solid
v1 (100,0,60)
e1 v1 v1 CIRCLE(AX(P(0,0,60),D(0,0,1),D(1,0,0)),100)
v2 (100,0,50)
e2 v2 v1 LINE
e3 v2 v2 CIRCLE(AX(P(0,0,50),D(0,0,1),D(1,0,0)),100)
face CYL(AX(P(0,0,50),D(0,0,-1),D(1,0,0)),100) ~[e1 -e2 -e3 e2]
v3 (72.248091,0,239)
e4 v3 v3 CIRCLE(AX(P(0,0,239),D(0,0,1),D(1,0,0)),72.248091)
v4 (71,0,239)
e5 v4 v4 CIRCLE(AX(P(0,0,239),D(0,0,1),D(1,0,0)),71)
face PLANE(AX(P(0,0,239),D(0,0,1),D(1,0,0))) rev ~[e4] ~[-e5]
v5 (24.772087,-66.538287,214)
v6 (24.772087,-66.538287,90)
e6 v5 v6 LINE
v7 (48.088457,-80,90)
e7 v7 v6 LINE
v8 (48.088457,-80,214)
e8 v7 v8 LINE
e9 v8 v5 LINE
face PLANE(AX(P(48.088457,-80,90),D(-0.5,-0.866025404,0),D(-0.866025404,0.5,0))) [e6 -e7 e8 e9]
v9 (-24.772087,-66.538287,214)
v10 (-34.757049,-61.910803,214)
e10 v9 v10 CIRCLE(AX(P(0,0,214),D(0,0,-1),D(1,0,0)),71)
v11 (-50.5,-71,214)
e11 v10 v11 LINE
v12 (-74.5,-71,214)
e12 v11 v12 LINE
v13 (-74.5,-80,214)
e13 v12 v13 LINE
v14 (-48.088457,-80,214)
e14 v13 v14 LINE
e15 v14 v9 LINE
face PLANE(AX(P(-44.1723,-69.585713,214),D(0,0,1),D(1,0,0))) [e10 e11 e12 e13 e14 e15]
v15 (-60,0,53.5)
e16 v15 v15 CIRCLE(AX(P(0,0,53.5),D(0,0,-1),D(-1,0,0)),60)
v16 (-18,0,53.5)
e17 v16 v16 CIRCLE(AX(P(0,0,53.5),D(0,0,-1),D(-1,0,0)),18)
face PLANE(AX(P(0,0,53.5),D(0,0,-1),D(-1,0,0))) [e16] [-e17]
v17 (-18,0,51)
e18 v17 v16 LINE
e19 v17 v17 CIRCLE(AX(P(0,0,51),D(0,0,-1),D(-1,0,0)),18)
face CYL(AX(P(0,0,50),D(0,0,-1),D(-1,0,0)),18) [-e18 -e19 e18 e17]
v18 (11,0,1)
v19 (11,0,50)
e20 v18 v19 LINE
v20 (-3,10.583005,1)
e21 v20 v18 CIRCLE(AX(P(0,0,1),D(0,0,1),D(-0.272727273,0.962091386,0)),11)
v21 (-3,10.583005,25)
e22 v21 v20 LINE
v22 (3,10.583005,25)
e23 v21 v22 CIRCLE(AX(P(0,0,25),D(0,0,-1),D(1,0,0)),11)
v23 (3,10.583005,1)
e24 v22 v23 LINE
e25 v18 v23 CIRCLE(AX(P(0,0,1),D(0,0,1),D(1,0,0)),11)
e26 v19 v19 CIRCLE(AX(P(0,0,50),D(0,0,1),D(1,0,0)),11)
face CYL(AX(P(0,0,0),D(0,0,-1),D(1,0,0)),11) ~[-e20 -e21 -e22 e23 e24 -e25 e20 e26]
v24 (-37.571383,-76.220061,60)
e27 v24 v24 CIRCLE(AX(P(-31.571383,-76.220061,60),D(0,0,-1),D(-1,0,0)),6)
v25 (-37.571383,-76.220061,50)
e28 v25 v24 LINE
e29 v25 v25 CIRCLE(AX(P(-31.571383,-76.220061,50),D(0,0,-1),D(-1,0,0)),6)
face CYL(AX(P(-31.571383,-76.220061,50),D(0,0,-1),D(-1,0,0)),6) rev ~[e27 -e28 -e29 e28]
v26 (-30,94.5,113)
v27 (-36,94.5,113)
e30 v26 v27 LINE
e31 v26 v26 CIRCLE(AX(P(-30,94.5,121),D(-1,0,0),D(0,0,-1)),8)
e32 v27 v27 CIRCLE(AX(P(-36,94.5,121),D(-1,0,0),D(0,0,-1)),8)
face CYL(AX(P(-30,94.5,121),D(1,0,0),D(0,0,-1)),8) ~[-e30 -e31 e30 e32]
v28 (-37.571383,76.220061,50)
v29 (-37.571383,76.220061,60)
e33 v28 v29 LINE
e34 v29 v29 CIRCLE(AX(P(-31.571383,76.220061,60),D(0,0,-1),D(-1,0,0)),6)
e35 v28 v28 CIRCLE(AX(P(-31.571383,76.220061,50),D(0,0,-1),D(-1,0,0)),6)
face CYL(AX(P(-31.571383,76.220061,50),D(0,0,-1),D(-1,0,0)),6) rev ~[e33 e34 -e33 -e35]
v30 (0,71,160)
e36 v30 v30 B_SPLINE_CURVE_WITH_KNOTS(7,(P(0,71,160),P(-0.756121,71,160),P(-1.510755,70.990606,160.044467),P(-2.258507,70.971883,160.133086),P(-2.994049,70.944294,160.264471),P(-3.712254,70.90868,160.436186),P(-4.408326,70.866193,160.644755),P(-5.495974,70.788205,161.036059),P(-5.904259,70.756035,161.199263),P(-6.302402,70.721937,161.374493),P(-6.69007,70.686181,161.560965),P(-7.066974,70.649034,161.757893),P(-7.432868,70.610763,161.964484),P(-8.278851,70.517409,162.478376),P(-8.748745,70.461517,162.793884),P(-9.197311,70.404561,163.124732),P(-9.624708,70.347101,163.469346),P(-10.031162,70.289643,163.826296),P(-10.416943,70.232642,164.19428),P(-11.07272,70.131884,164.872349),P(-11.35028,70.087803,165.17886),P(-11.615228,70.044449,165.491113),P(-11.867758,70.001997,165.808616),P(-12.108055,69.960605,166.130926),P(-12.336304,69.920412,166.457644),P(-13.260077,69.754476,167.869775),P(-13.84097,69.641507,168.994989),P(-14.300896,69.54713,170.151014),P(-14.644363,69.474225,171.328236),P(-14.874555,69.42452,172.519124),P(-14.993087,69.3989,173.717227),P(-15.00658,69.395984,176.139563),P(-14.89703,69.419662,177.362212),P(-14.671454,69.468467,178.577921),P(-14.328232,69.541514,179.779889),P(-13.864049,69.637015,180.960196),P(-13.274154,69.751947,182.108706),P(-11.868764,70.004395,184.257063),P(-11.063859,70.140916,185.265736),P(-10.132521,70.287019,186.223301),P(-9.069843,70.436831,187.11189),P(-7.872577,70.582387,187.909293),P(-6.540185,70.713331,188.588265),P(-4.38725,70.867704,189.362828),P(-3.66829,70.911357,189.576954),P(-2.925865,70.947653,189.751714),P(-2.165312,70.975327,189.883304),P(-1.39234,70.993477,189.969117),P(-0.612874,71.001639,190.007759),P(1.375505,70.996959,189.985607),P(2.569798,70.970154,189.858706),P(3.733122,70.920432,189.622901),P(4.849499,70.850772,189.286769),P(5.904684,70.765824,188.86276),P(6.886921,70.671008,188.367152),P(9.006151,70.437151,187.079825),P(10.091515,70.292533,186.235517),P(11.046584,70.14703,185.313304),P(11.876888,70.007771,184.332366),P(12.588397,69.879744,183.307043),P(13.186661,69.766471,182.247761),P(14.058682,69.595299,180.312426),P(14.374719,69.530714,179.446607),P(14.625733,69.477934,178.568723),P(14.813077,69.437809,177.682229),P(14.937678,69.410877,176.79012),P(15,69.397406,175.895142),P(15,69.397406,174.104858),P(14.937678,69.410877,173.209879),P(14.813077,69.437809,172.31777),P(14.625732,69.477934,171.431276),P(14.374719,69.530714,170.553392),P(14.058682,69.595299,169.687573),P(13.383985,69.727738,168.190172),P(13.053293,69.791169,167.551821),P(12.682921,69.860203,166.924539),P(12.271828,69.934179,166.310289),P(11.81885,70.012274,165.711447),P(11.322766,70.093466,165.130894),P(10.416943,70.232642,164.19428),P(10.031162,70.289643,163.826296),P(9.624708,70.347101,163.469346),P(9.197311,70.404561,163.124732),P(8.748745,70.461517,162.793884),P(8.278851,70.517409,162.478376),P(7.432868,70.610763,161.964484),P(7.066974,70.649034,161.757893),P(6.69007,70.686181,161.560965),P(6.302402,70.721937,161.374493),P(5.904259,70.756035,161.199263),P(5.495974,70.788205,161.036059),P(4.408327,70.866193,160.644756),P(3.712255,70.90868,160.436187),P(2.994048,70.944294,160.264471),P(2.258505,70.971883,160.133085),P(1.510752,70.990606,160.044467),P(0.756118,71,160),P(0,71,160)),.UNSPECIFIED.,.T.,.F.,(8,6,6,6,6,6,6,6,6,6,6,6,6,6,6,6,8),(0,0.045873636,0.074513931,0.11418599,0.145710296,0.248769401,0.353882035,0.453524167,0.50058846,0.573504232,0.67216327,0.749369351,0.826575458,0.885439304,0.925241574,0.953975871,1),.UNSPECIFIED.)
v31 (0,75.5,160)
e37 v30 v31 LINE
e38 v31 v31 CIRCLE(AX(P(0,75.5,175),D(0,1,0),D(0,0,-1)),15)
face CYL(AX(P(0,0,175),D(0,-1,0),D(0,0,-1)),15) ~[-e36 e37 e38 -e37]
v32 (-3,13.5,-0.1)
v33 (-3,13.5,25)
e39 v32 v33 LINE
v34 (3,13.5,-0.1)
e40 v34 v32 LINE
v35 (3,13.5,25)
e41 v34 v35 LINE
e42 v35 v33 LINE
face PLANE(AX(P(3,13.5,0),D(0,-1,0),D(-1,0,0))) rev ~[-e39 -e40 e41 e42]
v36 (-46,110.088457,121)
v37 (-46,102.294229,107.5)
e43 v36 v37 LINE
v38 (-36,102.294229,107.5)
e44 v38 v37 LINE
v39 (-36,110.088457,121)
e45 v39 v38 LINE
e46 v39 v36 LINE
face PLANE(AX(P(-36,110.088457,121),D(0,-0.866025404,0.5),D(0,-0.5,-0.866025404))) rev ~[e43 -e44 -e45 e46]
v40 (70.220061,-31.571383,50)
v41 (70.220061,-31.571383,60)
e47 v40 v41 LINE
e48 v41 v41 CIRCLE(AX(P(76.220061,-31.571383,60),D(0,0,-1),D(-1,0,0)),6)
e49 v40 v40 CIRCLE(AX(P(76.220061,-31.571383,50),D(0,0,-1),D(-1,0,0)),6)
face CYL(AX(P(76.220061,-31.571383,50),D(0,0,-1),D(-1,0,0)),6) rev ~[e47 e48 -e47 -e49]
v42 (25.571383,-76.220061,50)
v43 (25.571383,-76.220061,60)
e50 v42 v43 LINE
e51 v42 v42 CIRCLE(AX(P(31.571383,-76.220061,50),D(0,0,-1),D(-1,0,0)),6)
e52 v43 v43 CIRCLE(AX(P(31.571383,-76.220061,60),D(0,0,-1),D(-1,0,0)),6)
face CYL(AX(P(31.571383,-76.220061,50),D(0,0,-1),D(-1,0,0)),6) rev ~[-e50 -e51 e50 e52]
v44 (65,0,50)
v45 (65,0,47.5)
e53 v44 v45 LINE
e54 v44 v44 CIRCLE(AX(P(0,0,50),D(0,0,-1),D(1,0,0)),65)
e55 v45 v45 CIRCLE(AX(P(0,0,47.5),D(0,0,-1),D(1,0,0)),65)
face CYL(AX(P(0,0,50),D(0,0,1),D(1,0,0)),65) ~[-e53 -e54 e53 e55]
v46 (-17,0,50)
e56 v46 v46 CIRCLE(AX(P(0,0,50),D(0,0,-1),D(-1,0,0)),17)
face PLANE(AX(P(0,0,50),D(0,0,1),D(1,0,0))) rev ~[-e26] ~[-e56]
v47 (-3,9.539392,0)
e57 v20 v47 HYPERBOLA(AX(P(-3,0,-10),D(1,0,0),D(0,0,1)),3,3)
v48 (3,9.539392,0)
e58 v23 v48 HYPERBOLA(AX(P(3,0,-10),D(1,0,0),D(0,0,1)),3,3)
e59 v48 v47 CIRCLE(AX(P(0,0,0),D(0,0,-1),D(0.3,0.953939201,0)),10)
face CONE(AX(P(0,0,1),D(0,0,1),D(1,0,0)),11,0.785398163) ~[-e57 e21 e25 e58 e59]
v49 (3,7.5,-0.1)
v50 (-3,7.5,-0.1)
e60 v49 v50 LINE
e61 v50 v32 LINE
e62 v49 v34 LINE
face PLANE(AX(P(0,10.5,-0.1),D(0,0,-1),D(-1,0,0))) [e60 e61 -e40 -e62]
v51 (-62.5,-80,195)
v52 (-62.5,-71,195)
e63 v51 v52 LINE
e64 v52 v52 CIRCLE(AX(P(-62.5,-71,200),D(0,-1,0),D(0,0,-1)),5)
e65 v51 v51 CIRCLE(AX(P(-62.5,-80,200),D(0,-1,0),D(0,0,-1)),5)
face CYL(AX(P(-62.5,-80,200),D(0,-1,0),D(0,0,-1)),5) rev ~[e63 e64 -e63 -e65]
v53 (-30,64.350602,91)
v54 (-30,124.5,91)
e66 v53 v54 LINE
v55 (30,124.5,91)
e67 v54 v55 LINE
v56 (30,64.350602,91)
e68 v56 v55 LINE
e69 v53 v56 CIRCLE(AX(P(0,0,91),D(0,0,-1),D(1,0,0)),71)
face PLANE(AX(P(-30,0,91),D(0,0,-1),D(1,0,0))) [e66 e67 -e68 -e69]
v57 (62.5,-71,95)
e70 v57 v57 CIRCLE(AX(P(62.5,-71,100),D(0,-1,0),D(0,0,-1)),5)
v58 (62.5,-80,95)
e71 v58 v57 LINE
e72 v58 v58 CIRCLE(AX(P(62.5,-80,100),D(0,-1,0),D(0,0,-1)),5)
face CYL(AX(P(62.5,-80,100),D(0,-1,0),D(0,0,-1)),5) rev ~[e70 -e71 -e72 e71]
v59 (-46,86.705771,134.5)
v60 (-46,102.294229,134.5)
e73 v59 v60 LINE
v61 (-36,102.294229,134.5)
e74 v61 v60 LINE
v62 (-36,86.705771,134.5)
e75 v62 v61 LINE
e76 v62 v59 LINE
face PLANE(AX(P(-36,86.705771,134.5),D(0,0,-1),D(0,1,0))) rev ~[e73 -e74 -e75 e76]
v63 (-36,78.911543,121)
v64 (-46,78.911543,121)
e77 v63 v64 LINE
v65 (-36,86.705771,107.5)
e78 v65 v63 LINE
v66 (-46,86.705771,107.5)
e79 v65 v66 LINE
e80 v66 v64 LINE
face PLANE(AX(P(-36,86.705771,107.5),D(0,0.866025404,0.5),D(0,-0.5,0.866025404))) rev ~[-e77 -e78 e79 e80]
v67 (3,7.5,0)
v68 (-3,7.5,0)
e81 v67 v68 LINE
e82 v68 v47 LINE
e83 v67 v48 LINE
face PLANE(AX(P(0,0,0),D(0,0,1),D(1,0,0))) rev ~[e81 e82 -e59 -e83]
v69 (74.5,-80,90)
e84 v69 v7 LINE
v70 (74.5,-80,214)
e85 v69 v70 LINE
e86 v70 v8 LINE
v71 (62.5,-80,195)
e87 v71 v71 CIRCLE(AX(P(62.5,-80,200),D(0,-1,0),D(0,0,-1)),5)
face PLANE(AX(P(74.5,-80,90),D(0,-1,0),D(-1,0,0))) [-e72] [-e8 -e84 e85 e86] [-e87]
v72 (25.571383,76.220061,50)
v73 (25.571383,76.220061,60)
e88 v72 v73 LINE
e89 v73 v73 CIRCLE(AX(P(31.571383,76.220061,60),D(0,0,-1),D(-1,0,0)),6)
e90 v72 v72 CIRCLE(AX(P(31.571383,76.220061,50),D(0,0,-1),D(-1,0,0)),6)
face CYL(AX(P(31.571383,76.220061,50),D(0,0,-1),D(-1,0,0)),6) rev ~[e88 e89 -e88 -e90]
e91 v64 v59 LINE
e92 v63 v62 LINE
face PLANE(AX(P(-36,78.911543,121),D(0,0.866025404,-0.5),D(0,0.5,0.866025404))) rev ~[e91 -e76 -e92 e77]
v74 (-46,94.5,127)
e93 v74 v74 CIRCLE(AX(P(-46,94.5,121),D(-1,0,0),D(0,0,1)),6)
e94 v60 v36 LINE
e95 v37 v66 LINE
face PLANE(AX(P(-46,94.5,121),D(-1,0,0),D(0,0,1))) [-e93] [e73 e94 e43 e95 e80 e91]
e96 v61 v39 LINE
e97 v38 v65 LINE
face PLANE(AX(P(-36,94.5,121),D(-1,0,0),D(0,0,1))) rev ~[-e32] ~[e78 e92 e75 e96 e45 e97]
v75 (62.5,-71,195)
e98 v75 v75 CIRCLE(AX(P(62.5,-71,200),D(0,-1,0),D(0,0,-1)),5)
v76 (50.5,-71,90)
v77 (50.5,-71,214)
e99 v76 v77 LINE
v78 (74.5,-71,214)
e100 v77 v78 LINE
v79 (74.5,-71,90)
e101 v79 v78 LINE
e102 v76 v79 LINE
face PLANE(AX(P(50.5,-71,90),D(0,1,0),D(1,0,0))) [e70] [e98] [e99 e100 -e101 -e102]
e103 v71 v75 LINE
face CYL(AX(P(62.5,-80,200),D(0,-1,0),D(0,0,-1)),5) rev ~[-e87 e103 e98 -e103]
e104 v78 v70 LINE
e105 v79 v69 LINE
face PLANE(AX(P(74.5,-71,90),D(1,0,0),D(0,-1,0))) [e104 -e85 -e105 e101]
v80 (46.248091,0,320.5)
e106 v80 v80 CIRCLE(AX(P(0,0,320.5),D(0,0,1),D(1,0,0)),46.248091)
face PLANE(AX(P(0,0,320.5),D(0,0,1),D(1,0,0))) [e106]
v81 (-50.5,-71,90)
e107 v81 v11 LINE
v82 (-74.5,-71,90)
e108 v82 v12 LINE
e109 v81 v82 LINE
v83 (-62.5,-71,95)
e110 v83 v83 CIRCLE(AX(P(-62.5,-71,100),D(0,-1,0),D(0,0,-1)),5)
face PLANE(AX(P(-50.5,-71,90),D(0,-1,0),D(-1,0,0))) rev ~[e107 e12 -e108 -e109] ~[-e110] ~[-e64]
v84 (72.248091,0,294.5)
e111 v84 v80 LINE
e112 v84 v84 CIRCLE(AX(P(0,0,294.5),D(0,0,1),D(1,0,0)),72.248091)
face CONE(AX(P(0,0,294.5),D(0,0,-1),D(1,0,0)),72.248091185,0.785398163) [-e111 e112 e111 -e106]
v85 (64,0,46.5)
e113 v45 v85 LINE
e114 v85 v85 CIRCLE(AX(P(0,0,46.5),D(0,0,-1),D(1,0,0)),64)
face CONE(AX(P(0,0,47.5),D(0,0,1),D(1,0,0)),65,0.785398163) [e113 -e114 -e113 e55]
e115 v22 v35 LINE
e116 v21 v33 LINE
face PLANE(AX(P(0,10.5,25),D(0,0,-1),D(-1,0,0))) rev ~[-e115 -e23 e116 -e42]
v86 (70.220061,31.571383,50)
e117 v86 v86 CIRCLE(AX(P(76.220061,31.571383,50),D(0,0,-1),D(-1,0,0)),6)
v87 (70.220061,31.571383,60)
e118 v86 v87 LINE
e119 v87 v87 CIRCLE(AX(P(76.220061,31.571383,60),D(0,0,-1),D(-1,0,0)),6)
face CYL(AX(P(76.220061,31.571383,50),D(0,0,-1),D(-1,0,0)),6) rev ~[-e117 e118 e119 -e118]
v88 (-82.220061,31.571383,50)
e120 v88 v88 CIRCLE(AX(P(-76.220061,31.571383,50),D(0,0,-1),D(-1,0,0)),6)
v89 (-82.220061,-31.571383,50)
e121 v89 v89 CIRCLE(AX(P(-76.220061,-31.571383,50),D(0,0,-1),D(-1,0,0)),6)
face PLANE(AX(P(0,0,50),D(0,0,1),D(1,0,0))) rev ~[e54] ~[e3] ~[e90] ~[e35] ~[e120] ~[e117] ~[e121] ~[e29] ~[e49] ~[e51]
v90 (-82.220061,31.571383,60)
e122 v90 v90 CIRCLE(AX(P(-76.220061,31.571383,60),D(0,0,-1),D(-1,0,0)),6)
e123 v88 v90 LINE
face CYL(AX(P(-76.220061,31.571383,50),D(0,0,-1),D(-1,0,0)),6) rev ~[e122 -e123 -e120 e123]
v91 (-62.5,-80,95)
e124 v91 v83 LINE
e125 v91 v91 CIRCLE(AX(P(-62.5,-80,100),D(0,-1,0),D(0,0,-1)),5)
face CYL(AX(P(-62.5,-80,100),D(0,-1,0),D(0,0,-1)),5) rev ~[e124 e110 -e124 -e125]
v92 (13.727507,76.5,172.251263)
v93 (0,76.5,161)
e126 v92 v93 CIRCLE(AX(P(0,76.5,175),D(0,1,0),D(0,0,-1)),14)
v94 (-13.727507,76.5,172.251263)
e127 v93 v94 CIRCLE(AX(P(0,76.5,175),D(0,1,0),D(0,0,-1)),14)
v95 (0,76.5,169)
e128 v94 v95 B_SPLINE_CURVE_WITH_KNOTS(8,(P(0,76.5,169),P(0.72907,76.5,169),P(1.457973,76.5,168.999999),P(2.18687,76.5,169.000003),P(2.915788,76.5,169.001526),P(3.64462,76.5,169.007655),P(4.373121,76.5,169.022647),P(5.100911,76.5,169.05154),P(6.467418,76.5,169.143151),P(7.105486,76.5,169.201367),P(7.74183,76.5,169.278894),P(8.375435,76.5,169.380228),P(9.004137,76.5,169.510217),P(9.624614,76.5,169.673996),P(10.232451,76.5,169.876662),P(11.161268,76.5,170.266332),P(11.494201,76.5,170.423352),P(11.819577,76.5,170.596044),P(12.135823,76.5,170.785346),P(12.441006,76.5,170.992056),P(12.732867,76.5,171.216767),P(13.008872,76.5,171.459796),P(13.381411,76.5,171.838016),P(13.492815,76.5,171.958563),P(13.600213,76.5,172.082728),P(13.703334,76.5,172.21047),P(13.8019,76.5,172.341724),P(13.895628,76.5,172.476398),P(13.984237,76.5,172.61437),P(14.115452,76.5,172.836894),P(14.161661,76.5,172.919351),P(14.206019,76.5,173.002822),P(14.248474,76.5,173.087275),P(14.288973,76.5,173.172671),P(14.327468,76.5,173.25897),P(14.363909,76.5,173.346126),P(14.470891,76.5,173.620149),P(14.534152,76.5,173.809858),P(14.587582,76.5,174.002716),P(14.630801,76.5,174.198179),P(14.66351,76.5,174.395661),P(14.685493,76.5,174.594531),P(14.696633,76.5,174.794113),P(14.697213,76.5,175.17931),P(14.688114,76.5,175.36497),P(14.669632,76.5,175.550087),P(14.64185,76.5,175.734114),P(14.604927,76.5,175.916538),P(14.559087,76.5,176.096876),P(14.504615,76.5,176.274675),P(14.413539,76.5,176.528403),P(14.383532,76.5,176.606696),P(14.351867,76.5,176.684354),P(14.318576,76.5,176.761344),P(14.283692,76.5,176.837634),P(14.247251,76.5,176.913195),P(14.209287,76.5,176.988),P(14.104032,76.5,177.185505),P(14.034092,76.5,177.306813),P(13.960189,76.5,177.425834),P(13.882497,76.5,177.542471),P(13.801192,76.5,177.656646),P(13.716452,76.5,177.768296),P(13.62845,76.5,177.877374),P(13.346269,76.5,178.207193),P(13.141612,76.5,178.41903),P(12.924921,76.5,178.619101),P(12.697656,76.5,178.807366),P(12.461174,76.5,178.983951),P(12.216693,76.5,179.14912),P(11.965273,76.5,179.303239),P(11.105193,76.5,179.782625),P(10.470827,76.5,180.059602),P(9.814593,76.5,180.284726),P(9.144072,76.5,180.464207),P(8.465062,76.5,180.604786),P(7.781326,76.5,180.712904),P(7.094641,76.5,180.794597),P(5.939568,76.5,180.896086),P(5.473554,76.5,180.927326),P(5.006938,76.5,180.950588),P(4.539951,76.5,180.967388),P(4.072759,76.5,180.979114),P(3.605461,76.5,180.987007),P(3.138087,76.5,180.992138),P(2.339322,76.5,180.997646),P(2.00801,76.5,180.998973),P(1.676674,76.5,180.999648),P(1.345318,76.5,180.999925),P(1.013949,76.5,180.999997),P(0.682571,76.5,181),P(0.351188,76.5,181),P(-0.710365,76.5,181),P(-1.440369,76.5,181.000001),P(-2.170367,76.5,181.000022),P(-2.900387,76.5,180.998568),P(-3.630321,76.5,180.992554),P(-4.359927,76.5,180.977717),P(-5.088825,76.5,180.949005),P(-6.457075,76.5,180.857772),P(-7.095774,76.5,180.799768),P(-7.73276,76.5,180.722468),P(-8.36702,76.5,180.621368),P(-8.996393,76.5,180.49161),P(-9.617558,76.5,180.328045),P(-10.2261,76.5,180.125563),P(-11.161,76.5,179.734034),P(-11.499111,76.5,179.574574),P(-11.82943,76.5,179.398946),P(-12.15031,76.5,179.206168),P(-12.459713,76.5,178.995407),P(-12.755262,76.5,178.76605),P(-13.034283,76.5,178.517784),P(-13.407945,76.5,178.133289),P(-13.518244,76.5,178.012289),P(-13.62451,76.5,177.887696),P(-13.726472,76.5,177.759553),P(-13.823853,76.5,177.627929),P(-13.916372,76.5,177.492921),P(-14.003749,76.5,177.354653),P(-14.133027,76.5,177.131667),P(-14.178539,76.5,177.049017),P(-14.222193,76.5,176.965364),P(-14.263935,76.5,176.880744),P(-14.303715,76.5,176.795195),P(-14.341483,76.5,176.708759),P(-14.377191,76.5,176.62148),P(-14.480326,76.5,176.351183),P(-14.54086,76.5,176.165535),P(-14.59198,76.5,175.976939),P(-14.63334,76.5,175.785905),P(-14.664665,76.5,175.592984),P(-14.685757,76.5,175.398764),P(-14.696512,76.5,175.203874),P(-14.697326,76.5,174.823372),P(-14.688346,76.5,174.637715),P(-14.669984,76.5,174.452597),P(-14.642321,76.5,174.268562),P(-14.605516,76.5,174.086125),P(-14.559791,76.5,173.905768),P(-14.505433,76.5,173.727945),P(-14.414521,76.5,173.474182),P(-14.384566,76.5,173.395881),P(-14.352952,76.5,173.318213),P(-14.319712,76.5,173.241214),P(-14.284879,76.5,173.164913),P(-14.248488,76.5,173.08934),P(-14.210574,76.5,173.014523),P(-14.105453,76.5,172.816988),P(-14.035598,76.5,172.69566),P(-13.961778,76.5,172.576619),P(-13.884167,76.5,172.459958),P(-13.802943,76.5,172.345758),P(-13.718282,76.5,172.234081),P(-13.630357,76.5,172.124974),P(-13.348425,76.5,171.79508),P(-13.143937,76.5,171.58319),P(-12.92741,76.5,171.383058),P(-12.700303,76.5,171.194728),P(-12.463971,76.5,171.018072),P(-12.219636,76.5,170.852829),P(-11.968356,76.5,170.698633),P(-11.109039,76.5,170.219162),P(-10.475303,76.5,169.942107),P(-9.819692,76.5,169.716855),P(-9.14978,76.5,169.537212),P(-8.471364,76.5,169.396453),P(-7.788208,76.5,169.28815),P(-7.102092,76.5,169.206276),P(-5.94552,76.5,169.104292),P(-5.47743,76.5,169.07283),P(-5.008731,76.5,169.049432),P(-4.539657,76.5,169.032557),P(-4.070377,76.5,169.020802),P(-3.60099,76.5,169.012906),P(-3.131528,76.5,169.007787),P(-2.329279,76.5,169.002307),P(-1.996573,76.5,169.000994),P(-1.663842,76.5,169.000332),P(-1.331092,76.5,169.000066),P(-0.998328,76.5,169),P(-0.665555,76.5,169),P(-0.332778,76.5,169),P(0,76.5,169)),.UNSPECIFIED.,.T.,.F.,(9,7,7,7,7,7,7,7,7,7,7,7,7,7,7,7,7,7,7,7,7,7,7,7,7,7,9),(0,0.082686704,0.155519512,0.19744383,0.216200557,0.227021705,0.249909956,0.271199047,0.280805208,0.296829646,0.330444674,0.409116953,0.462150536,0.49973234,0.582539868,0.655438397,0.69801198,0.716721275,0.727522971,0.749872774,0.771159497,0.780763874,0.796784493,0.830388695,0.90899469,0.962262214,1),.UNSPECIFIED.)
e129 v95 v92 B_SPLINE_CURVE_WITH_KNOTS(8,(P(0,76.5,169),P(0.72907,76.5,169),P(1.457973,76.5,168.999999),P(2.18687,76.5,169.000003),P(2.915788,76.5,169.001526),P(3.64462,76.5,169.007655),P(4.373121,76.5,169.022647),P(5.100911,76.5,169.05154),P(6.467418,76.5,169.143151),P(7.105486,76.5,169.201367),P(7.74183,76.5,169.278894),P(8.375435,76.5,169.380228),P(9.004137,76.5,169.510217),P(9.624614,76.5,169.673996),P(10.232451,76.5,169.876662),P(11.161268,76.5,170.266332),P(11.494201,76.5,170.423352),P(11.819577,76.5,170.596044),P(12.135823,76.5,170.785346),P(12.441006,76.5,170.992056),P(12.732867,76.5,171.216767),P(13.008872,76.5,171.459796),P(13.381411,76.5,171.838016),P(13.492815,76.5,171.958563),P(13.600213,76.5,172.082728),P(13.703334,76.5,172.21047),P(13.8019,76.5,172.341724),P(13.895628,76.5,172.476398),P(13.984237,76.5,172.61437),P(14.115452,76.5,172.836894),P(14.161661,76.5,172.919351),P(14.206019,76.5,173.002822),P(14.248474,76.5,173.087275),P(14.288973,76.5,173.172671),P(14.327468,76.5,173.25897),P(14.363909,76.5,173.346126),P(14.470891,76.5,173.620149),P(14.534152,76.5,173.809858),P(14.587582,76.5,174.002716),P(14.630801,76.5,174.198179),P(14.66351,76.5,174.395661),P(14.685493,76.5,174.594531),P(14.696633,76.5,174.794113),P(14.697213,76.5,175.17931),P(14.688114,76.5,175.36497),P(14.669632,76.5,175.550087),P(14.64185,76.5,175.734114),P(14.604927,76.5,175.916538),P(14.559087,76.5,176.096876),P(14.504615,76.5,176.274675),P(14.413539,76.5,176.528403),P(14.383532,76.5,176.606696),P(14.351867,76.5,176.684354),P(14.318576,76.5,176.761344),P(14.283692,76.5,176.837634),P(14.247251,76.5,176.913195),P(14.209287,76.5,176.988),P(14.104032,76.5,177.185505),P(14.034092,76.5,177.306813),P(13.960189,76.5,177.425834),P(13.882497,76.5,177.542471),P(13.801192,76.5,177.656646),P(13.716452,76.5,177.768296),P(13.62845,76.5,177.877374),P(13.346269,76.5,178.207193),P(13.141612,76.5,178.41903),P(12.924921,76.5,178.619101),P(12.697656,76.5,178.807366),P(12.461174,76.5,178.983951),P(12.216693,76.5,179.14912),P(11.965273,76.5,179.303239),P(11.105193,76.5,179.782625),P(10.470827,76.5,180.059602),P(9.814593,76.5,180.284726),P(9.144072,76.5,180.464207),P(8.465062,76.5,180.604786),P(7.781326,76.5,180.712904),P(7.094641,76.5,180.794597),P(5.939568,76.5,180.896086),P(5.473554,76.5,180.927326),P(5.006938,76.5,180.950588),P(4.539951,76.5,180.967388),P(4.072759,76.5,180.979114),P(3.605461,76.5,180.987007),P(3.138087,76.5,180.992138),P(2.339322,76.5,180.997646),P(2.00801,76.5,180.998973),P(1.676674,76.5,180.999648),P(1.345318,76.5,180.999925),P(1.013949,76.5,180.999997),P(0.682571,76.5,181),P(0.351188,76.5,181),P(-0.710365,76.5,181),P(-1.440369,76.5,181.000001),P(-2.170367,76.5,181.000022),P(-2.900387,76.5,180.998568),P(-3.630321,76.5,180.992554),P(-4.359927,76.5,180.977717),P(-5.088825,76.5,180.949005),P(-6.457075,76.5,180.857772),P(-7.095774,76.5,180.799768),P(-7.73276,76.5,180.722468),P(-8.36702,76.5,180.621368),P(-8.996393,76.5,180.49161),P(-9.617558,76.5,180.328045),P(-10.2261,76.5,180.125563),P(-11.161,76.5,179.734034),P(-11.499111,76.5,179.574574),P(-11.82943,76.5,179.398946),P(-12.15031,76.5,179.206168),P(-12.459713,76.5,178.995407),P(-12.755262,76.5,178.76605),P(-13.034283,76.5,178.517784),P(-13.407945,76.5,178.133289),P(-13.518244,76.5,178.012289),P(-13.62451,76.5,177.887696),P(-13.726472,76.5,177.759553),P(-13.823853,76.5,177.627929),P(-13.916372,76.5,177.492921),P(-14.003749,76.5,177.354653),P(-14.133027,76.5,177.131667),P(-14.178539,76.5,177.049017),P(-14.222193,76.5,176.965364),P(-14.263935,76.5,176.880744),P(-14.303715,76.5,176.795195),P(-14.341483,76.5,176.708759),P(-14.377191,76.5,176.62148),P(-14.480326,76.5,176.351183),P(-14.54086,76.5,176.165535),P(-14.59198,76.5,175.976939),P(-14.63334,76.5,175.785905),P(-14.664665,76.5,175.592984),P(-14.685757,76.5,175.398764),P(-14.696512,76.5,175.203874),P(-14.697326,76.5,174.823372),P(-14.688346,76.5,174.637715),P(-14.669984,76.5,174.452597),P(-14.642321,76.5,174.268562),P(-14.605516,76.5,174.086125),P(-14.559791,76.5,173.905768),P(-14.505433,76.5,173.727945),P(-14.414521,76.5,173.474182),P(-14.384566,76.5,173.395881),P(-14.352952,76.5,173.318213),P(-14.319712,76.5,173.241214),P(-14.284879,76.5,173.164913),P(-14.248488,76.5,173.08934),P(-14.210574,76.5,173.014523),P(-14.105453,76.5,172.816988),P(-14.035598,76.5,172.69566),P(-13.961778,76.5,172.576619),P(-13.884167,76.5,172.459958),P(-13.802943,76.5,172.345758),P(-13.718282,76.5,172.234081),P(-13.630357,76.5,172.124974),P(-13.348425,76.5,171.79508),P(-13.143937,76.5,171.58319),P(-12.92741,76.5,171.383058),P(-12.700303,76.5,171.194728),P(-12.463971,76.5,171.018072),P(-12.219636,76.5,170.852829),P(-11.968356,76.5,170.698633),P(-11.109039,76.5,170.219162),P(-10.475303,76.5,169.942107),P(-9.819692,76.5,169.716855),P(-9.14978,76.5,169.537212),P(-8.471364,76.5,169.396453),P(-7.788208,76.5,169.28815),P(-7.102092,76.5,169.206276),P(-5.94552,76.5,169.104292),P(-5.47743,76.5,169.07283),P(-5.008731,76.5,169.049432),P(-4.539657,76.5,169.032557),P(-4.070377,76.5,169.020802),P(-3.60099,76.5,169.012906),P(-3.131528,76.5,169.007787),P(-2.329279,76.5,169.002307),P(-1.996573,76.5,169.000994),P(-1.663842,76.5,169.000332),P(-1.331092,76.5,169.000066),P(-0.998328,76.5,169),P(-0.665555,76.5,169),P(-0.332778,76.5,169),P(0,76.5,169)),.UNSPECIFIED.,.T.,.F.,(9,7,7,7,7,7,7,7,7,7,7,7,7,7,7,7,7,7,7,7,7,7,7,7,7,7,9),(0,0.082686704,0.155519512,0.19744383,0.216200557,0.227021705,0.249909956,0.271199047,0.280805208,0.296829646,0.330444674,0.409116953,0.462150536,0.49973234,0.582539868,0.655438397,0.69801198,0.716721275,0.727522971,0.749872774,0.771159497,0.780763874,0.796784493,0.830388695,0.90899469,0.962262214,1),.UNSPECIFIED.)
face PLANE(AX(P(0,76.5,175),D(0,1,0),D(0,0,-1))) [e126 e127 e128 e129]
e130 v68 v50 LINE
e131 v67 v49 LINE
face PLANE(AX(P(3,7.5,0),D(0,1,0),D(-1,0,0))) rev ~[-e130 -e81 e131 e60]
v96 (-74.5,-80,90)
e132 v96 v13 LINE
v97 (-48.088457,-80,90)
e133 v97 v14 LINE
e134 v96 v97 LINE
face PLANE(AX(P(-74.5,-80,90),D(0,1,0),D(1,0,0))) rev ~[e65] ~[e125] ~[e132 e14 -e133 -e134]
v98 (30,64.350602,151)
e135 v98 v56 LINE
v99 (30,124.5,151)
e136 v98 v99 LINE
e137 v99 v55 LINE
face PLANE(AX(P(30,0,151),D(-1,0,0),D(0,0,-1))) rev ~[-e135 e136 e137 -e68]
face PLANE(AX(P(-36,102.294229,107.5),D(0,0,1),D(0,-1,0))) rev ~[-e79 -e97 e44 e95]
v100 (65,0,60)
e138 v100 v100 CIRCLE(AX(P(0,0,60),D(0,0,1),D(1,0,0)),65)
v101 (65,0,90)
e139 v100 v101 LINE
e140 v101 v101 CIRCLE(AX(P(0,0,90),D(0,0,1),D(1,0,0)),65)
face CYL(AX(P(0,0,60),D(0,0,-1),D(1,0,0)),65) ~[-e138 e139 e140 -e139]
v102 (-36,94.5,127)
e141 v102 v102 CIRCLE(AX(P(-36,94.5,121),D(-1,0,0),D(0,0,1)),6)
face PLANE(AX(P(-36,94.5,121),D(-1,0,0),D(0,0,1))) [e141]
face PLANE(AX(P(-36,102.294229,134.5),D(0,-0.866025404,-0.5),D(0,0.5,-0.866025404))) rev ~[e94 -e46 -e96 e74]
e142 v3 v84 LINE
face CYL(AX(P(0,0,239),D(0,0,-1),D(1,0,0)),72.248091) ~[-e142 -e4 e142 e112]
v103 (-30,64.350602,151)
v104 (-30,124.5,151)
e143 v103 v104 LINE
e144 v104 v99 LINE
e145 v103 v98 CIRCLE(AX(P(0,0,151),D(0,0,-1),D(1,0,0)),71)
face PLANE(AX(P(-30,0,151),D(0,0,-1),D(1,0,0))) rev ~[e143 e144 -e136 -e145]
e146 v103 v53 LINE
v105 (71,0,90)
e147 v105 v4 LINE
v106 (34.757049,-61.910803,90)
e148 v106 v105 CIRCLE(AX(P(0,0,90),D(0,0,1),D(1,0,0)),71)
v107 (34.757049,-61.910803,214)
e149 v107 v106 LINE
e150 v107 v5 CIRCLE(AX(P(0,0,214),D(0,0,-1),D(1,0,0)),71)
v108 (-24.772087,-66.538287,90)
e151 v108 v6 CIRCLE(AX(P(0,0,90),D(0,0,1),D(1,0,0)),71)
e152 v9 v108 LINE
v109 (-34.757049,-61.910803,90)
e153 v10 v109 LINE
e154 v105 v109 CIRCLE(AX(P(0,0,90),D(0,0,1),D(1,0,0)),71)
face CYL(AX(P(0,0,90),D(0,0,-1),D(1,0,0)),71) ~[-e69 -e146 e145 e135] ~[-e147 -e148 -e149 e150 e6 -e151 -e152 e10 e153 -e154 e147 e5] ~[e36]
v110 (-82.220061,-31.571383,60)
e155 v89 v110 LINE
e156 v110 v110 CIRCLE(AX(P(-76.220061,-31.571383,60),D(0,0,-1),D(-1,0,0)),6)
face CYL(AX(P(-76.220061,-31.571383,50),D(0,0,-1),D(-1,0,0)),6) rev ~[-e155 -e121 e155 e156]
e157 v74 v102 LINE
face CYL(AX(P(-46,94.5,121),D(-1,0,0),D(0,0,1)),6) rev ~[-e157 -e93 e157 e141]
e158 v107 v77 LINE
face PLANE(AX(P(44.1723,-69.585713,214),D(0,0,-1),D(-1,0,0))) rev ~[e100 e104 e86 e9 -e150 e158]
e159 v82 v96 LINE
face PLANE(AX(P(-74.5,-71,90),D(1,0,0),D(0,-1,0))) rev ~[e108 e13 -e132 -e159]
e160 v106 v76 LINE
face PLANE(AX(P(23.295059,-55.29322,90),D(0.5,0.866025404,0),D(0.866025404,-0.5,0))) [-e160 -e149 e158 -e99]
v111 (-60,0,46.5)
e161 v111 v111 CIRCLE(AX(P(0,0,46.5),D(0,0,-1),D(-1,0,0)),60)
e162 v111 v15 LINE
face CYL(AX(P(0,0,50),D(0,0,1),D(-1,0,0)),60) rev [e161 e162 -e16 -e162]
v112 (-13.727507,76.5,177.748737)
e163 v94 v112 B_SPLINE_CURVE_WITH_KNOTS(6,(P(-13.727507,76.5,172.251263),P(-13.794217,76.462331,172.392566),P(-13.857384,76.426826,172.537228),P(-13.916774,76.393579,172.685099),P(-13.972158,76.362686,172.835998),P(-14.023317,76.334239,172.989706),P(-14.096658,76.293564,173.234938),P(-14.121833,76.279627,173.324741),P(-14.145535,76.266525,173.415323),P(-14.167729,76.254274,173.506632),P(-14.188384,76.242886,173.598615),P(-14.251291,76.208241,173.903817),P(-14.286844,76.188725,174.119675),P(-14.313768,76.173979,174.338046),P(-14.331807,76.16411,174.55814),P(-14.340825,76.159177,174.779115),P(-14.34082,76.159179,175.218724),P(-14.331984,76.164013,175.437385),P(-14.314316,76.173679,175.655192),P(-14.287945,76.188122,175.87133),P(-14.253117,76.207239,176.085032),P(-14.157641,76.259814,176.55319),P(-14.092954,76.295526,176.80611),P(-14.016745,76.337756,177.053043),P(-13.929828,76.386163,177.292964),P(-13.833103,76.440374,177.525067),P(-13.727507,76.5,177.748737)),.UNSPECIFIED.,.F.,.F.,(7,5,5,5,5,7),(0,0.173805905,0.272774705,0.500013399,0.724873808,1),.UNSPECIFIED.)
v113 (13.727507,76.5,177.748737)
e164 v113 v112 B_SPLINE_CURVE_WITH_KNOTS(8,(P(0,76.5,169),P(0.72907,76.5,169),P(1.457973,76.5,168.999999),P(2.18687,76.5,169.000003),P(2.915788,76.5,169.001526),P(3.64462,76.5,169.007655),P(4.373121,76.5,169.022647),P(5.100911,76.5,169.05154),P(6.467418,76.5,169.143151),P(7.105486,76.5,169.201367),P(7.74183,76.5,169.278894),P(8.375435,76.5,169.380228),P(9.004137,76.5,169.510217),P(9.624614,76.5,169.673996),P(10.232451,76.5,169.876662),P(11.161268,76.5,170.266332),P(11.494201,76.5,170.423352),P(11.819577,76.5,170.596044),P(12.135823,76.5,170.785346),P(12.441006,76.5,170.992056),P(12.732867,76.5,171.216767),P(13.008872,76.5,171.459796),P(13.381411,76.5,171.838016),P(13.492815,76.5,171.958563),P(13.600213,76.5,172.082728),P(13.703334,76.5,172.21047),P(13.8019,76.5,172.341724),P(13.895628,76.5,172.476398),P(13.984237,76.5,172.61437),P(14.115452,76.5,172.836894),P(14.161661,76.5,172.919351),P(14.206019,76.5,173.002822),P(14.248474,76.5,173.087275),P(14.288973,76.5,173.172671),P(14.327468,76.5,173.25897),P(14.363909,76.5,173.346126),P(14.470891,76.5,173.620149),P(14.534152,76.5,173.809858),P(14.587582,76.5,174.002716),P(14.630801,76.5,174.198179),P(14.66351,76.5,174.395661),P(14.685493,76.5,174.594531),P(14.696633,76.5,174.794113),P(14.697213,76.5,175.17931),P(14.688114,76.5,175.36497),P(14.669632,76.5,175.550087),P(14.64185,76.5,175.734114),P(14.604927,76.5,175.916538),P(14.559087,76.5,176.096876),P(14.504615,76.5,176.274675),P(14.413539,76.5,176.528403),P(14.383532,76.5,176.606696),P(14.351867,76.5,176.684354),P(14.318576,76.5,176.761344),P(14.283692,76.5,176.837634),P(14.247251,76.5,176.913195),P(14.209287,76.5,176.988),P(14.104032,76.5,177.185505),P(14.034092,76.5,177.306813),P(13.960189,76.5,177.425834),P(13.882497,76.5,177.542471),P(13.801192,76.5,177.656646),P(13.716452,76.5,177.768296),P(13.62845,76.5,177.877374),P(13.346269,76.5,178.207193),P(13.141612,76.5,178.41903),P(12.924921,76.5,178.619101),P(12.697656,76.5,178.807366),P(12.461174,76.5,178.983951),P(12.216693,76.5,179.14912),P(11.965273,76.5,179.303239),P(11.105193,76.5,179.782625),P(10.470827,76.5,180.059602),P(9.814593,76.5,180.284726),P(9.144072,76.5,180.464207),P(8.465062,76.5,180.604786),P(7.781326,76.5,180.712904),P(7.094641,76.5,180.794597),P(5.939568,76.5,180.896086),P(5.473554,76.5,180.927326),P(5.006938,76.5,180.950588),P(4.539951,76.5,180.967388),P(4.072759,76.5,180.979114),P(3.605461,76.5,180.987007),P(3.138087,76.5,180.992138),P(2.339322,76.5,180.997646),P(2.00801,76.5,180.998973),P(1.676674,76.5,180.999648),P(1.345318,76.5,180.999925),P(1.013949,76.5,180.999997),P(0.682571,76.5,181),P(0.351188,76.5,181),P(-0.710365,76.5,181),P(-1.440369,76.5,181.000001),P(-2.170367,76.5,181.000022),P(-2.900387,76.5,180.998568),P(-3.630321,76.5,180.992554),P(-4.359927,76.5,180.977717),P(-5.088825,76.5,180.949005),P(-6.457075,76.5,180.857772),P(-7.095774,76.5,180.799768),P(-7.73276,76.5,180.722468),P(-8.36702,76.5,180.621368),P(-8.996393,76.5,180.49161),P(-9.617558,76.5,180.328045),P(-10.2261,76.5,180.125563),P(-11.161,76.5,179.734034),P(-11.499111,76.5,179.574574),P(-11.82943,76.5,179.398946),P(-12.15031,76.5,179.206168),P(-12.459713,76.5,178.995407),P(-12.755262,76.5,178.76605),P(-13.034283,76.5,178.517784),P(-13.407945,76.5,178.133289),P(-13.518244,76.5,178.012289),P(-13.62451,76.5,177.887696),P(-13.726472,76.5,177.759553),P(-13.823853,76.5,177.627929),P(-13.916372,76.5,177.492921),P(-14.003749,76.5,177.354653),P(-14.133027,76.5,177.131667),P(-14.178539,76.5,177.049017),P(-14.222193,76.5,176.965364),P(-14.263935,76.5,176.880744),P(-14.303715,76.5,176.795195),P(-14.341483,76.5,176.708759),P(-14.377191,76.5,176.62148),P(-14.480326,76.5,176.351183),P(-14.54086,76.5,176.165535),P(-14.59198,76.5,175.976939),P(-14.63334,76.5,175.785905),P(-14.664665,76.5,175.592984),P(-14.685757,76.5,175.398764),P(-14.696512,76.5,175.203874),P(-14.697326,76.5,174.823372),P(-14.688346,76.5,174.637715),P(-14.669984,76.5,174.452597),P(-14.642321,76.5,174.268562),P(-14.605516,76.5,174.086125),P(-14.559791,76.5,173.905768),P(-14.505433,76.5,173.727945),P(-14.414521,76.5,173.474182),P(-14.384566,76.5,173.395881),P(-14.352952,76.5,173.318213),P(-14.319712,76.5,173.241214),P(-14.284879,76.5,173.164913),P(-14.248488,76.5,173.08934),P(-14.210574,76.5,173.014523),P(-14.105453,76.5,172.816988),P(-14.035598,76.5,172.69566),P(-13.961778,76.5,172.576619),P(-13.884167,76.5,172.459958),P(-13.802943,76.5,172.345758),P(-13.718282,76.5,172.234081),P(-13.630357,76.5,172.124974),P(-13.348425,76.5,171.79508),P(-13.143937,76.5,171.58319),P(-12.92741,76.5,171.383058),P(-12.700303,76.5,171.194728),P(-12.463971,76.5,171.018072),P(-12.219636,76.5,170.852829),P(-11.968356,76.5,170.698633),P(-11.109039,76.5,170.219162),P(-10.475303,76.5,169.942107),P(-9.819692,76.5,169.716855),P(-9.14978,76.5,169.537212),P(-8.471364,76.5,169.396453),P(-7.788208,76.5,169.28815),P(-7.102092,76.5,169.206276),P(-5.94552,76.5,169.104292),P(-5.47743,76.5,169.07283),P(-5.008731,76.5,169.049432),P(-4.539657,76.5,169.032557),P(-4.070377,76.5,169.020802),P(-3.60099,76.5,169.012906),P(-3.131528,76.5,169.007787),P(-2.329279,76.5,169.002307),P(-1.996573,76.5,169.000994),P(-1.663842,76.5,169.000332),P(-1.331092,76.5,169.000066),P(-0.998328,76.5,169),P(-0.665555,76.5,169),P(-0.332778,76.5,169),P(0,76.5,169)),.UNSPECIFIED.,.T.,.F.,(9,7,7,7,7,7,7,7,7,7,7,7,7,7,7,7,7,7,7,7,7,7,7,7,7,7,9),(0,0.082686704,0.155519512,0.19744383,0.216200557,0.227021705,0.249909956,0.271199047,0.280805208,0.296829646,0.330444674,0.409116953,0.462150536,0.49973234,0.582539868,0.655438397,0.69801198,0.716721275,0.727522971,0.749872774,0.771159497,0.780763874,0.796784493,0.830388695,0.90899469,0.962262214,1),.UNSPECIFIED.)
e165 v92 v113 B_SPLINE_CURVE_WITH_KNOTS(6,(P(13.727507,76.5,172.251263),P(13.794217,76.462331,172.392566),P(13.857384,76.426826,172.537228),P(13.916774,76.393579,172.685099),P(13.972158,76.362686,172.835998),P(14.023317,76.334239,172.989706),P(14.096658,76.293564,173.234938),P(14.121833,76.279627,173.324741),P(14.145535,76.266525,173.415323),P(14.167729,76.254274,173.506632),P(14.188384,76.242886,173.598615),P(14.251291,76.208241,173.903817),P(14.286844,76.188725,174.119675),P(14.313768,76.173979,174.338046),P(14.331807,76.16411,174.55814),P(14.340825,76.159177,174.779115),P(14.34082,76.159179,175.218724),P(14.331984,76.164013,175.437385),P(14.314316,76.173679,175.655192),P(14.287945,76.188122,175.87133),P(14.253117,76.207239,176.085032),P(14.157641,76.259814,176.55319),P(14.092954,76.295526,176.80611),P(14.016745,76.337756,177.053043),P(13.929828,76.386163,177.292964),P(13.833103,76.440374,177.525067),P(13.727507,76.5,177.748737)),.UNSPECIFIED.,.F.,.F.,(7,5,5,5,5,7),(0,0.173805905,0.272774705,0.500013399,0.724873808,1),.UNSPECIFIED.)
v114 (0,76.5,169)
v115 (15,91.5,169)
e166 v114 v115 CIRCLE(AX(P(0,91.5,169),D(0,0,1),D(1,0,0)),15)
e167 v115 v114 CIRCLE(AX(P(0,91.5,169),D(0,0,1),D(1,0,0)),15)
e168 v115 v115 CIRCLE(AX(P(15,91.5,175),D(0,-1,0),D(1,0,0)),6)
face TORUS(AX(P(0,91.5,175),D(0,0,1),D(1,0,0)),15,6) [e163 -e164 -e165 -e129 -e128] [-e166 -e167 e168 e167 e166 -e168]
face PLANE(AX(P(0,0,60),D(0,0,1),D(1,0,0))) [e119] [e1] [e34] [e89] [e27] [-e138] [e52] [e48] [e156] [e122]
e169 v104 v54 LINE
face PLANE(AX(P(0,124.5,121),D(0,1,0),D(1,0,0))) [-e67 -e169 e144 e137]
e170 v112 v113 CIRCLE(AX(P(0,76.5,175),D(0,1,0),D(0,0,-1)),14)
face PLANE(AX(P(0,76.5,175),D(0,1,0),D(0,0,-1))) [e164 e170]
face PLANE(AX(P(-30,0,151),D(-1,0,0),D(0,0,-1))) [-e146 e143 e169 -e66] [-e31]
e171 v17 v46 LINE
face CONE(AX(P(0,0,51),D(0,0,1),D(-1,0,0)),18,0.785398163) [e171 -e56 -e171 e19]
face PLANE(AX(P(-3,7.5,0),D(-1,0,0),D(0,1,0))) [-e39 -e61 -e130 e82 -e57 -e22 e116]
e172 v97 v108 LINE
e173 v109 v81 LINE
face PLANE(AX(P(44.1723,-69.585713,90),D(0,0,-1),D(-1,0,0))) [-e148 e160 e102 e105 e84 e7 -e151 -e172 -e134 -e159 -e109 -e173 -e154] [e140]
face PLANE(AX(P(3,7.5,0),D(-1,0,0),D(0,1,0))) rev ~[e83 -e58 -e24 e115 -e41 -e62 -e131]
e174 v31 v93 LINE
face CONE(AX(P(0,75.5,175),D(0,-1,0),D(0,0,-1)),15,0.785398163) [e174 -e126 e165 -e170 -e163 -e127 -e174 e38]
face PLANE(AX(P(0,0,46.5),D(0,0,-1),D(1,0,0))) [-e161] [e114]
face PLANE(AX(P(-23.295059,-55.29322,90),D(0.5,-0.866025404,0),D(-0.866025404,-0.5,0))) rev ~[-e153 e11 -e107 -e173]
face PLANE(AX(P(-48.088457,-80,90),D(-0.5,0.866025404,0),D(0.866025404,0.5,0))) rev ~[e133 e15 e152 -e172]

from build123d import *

# Parameters (mm, degrees)
SKETCH_1_R           = 11
EXTRUDE_1_DEPTH      = 50
SKETCH_2_W           = 6
SKETCH_2_H           = 6
EXTRUDE_2_DEPTH      = 0.1
EXTRUDE_2_DEPTH_BACK = 25
CHAMFER_1_SIZE       = 1
SKETCH_3_R           = 100
EXTRUDE_3_DEPTH      = 10
SKETCH_4_R           = 65
SKETCH_4_R_2         = 60
EXTRUDE_4_DEPTH      = 3.5
SKETCH_5_R           = 60
SKETCH_5_R_2         = 18
CUT_EXTRUDE_1_DEPTH  = 3.5
CHAMFER_2_SIZE       = 1
SKETCH_6_R           = 65
EXTRUDE_5_DEPTH      = 30
SKETCH_7_R           = 71
EXTRUDE_6_DEPTH      = 149
SKETCH_8_R           = 72.248091185
EXTRUDE_7_DEPTH      = 81.5
CHAMFER_3_SIZE       = 26
SKETCH_9_R           = 6
CUT_EXTRUDE_2_DEPTH  = 271.5
EXTRUDE_8_DEPTH      = 124
CUT_EXTRUDE_3_REACH  = 182
SKETCH_11_R          = 5
SKETCH_12_W          = 60
SKETCH_12_H          = 60
EXTRUDE_9_DEPTH      = 124.5
SKETCH_13_R          = 15
EXTRUDE_10_DEPTH     = 76.5
CHAMFER_4_SIZE       = 1
SKETCH_15_R          = 6
SKETCH_16_R          = 8
EXTRUDE_11_DEPTH     = 6
EXTRUDE_12_DEPTH     = 10
SKETCH_18_R          = 6
CUT_EXTRUDE_4_DEPTH  = 10


with BuildPart() as part:
    # Эскиз1 → Вытянуть1 (new body)
    with BuildSketch(Plane.XY):
        Circle(SKETCH_1_R)
    extrude(amount=EXTRUDE_1_DEPTH)

    # Эскиз2 → Вытянуть2 (add, two sides)
    with BuildSketch(Plane(origin=(0, 0, 0), x_dir=(-1, 0, 0), z_dir=(0, 0, -1))) as extrude_2_sk:
        with Locations((0, 10.5)):
            Rectangle(SKETCH_2_W, SKETCH_2_H)
    extrude(amount=EXTRUDE_2_DEPTH)
    extrude(extrude_2_sk.sketch, amount=-EXTRUDE_2_DEPTH_BACK)

    # Фаска1
    chamfer_1_edges = [part.edges().sort_by_distance(p)[0] for p in [
        (-6.633249581, -8.774964387, 0),
    ]]
    chamfer(chamfer_1_edges, length=CHAMFER_1_SIZE)

    # Эскиз3 → Вытянуть3 (add)
    with BuildSketch(Plane.XY.offset(50)):
        Circle(SKETCH_3_R)
    extrude(amount=EXTRUDE_3_DEPTH)

    # Эскиз4 → Вытянуть4 (add)
    with BuildSketch(Plane(origin=(0, 0, 50), x_dir=(-1, 0, 0), z_dir=(0, 0, -1))):
        with Locations(Location((0, 0, 0), (0, 0, 180))):  # turned: the seam where the file's is
            Circle(SKETCH_4_R)
        Circle(SKETCH_4_R_2, mode=Mode.SUBTRACT)
    extrude(amount=EXTRUDE_4_DEPTH)

    # Эскиз5 → Вырез-Вытянуть1 (cut)
    with BuildSketch(Plane(origin=(0, 0, 50), x_dir=(-1, 0, 0), z_dir=(0, 0, -1))):
        Circle(SKETCH_5_R)
        Circle(SKETCH_5_R_2, mode=Mode.SUBTRACT)
    extrude(amount=-CUT_EXTRUDE_1_DEPTH, mode=Mode.SUBTRACT)

    # Фаска2
    chamfer_2_edges = [part.edges().sort_by_distance(p)[0] for p in [
        (-65, 0, 46.5),
        (18, 0, 50),
    ]]
    chamfer(chamfer_2_edges, length=CHAMFER_2_SIZE)

    # Эскиз6 → Вытянуть5 (add)
    with BuildSketch(Plane.XY.offset(60)):
        Circle(SKETCH_6_R)
    extrude(amount=EXTRUDE_5_DEPTH)

    # Эскиз7 → Вытянуть6 (add)
    with BuildSketch(Plane.XY.offset(90)):
        Circle(SKETCH_7_R)
    extrude(amount=EXTRUDE_6_DEPTH)

    # Эскиз8 → Вытянуть7 (add)
    with BuildSketch(Plane.XY.offset(239)):
        Circle(SKETCH_8_R)
    extrude(amount=EXTRUDE_7_DEPTH)

    # Фаска3
    chamfer_3_edges = [part.edges().sort_by_distance(p)[0] for p in [
        (-72.248091185, 0, 320.5),
    ]]
    chamfer(chamfer_3_edges, length=CHAMFER_3_SIZE)

    # Эскиз9 → Вырез-Вытянуть2 (cut, through all)
    with BuildSketch(Plane(origin=(0, 0, 50), x_dir=(-1, 0, 0), z_dir=(0, 0, -1))):
        with Locations((-31.57138317, 76.220061432)):
            Circle(SKETCH_9_R)
        with Locations((31.57138317, 76.220061432)):
            Circle(SKETCH_9_R)
        with Locations((76.220061432, 31.57138317)):
            Circle(SKETCH_9_R)
        with Locations((76.220061432, -31.57138317)):
            Circle(SKETCH_9_R)
        with Locations((31.57138317, -76.220061432)):
            Circle(SKETCH_9_R)
        with Locations((-31.57138317, -76.220061432)):
            Circle(SKETCH_9_R)
        with Locations((-76.220061432, -31.57138317)):
            Circle(SKETCH_9_R)
        with Locations((-76.220061432, 31.57138317)):
            Circle(SKETCH_9_R)
    extrude(amount=-CUT_EXTRUDE_2_DEPTH, mode=Mode.SUBTRACT)

    # Эскиз10 → Вытянуть8 (add)
    with BuildSketch(Plane(origin=(0, 0, 90), x_dir=(-1, 0, 0), z_dir=(0, 0, -1))):
        Polygon((-74.5, -80), (-48.088457268, -80), (-11.515477308, -58.884580175), (-23.295059446, -55.293220248), (-50.5, -71), (-74.5, -71), align=None)
        Polygon((74.5, -71), (74.5, -80), (48.088457268, -80), (11.515477308, -58.884580175), (23.295059446, -55.293220248), (50.5, -71), align=None)
    extrude(amount=-EXTRUDE_8_DEPTH)

    # Эскиз11 → Вырез-Вытянуть3 (cut, up to next)
    with BuildSketch(Plane.XZ.offset(80), mode=Mode.PRIVATE) as cut_extrude_3_sk1:
        with Locations(Location((-62.5, 100, 0), (0, 0, 270))):  # turned: the seam where the file's is
            Circle(SKETCH_11_R)
    cut_extrude_3_tool1 = extrude(cut_extrude_3_sk1.sketch, amount=-CUT_EXTRUDE_3_REACH, mode=Mode.PRIVATE) & part.part
    add(cut_extrude_3_tool1.solids().sort_by_distance((-62.5, -80, 100))[0], mode=Mode.SUBTRACT)
    # Эскиз11 → Вырез-Вытянуть3 (cut, up to next)
    with BuildSketch(Plane.XZ.offset(80), mode=Mode.PRIVATE) as cut_extrude_3_sk2:
        with Locations(Location((62.5, 100, 0), (0, 0, 270))):  # turned: the seam where the file's is
            Circle(SKETCH_11_R)
    cut_extrude_3_tool2 = extrude(cut_extrude_3_sk2.sketch, amount=-CUT_EXTRUDE_3_REACH, mode=Mode.PRIVATE) & part.part
    add(cut_extrude_3_tool2.solids().sort_by_distance((62.5, -80, 100))[0], mode=Mode.SUBTRACT)
    # Эскиз11 → Вырез-Вытянуть3 (cut, up to next)
    with BuildSketch(Plane.XZ.offset(80), mode=Mode.PRIVATE) as cut_extrude_3_sk3:
        with Locations(Location((-62.5, 200, 0), (0, 0, 270))):  # turned: the seam where the file's is
            Circle(SKETCH_11_R)
    cut_extrude_3_tool3 = extrude(cut_extrude_3_sk3.sketch, amount=-CUT_EXTRUDE_3_REACH, mode=Mode.PRIVATE) & part.part
    add(cut_extrude_3_tool3.solids().sort_by_distance((-62.5, -80, 200))[0], mode=Mode.SUBTRACT)
    # Эскиз11 → Вырез-Вытянуть3 (cut, up to next)
    with BuildSketch(Plane.XZ.offset(80), mode=Mode.PRIVATE) as cut_extrude_3_sk4:
        with Locations(Location((62.5, 200, 0), (0, 0, 270))):  # turned: the seam where the file's is
            Circle(SKETCH_11_R)
    cut_extrude_3_tool4 = extrude(cut_extrude_3_sk4.sketch, amount=-CUT_EXTRUDE_3_REACH, mode=Mode.PRIVATE) & part.part
    add(cut_extrude_3_tool4.solids().sort_by_distance((62.5, -80, 200))[0], mode=Mode.SUBTRACT)

    # Эскиз12 → Вытянуть9 (add)
    with BuildSketch(Plane(origin=(0, 0, 0), x_dir=(1, 0, 0), z_dir=(0, 1, 0))):
        with Locations((0, -121)):
            Rectangle(SKETCH_12_W, SKETCH_12_H)
    extrude(amount=EXTRUDE_9_DEPTH)

    # Эскиз13 → Вытянуть10 (add)
    with BuildSketch(Plane(origin=(0, 0, 0), x_dir=(1, 0, 0), z_dir=(0, 1, 0))):
        with Locations(Location((0, -175, 0), (0, 0, 90))):  # turned: the seam where the file's is
            Circle(SKETCH_13_R)
    extrude(amount=EXTRUDE_10_DEPTH)

    # Фаска4
    chamfer_4_edges = [part.edges().sort_by_distance(p)[0] for p in [
        (0, 76.5, 190),
    ]]
    chamfer(chamfer_4_edges, length=CHAMFER_4_SIZE)

    # По траектории1: sweep along a path in Эскиз14
    with BuildLine(Plane.XY.offset(175)) as sweep_1_path:
        CenterArc((0, 91.5), 15, 0, 360)
    # Эскиз15 → По траектории1 (sweep)
    with BuildSketch(Plane(origin=(0, 0, 0), x_dir=(0, 0, -1), z_dir=(1, 0, 0))):
        with Locations((-175, 106.5)):
            Circle(SKETCH_15_R)
    sweep(path=sweep_1_path.line)

    # Эскиз16 → Вытянуть11 (add)
    with BuildSketch(Plane.ZY.offset(30)):
        with Locations(Location((121, 94.5, 0), (0, 0, 180))):  # turned: the seam where the file's is
            Circle(SKETCH_16_R)
    extrude(amount=EXTRUDE_11_DEPTH)

    # Эскиз17 → Вытянуть12 (add)
    with BuildSketch(Plane.ZY.offset(36)):
        Polygon((121, 110.088457268), (107.5, 102.294228634), (107.5, 86.705771366), (121, 78.911542732), (134.5, 86.705771366), (134.5, 102.294228634), align=None)
    extrude(amount=EXTRUDE_12_DEPTH)

    # Эскиз18 → Вырез-Вытянуть4 (cut)
    with BuildSketch(Plane.ZY.offset(46)):
        with Locations((121, 94.5)):
            Circle(SKETCH_18_R)
    extrude(amount=-CUT_EXTRUDE_4_DEPTH, mode=Mode.SUBTRACT)


solid = part.part
